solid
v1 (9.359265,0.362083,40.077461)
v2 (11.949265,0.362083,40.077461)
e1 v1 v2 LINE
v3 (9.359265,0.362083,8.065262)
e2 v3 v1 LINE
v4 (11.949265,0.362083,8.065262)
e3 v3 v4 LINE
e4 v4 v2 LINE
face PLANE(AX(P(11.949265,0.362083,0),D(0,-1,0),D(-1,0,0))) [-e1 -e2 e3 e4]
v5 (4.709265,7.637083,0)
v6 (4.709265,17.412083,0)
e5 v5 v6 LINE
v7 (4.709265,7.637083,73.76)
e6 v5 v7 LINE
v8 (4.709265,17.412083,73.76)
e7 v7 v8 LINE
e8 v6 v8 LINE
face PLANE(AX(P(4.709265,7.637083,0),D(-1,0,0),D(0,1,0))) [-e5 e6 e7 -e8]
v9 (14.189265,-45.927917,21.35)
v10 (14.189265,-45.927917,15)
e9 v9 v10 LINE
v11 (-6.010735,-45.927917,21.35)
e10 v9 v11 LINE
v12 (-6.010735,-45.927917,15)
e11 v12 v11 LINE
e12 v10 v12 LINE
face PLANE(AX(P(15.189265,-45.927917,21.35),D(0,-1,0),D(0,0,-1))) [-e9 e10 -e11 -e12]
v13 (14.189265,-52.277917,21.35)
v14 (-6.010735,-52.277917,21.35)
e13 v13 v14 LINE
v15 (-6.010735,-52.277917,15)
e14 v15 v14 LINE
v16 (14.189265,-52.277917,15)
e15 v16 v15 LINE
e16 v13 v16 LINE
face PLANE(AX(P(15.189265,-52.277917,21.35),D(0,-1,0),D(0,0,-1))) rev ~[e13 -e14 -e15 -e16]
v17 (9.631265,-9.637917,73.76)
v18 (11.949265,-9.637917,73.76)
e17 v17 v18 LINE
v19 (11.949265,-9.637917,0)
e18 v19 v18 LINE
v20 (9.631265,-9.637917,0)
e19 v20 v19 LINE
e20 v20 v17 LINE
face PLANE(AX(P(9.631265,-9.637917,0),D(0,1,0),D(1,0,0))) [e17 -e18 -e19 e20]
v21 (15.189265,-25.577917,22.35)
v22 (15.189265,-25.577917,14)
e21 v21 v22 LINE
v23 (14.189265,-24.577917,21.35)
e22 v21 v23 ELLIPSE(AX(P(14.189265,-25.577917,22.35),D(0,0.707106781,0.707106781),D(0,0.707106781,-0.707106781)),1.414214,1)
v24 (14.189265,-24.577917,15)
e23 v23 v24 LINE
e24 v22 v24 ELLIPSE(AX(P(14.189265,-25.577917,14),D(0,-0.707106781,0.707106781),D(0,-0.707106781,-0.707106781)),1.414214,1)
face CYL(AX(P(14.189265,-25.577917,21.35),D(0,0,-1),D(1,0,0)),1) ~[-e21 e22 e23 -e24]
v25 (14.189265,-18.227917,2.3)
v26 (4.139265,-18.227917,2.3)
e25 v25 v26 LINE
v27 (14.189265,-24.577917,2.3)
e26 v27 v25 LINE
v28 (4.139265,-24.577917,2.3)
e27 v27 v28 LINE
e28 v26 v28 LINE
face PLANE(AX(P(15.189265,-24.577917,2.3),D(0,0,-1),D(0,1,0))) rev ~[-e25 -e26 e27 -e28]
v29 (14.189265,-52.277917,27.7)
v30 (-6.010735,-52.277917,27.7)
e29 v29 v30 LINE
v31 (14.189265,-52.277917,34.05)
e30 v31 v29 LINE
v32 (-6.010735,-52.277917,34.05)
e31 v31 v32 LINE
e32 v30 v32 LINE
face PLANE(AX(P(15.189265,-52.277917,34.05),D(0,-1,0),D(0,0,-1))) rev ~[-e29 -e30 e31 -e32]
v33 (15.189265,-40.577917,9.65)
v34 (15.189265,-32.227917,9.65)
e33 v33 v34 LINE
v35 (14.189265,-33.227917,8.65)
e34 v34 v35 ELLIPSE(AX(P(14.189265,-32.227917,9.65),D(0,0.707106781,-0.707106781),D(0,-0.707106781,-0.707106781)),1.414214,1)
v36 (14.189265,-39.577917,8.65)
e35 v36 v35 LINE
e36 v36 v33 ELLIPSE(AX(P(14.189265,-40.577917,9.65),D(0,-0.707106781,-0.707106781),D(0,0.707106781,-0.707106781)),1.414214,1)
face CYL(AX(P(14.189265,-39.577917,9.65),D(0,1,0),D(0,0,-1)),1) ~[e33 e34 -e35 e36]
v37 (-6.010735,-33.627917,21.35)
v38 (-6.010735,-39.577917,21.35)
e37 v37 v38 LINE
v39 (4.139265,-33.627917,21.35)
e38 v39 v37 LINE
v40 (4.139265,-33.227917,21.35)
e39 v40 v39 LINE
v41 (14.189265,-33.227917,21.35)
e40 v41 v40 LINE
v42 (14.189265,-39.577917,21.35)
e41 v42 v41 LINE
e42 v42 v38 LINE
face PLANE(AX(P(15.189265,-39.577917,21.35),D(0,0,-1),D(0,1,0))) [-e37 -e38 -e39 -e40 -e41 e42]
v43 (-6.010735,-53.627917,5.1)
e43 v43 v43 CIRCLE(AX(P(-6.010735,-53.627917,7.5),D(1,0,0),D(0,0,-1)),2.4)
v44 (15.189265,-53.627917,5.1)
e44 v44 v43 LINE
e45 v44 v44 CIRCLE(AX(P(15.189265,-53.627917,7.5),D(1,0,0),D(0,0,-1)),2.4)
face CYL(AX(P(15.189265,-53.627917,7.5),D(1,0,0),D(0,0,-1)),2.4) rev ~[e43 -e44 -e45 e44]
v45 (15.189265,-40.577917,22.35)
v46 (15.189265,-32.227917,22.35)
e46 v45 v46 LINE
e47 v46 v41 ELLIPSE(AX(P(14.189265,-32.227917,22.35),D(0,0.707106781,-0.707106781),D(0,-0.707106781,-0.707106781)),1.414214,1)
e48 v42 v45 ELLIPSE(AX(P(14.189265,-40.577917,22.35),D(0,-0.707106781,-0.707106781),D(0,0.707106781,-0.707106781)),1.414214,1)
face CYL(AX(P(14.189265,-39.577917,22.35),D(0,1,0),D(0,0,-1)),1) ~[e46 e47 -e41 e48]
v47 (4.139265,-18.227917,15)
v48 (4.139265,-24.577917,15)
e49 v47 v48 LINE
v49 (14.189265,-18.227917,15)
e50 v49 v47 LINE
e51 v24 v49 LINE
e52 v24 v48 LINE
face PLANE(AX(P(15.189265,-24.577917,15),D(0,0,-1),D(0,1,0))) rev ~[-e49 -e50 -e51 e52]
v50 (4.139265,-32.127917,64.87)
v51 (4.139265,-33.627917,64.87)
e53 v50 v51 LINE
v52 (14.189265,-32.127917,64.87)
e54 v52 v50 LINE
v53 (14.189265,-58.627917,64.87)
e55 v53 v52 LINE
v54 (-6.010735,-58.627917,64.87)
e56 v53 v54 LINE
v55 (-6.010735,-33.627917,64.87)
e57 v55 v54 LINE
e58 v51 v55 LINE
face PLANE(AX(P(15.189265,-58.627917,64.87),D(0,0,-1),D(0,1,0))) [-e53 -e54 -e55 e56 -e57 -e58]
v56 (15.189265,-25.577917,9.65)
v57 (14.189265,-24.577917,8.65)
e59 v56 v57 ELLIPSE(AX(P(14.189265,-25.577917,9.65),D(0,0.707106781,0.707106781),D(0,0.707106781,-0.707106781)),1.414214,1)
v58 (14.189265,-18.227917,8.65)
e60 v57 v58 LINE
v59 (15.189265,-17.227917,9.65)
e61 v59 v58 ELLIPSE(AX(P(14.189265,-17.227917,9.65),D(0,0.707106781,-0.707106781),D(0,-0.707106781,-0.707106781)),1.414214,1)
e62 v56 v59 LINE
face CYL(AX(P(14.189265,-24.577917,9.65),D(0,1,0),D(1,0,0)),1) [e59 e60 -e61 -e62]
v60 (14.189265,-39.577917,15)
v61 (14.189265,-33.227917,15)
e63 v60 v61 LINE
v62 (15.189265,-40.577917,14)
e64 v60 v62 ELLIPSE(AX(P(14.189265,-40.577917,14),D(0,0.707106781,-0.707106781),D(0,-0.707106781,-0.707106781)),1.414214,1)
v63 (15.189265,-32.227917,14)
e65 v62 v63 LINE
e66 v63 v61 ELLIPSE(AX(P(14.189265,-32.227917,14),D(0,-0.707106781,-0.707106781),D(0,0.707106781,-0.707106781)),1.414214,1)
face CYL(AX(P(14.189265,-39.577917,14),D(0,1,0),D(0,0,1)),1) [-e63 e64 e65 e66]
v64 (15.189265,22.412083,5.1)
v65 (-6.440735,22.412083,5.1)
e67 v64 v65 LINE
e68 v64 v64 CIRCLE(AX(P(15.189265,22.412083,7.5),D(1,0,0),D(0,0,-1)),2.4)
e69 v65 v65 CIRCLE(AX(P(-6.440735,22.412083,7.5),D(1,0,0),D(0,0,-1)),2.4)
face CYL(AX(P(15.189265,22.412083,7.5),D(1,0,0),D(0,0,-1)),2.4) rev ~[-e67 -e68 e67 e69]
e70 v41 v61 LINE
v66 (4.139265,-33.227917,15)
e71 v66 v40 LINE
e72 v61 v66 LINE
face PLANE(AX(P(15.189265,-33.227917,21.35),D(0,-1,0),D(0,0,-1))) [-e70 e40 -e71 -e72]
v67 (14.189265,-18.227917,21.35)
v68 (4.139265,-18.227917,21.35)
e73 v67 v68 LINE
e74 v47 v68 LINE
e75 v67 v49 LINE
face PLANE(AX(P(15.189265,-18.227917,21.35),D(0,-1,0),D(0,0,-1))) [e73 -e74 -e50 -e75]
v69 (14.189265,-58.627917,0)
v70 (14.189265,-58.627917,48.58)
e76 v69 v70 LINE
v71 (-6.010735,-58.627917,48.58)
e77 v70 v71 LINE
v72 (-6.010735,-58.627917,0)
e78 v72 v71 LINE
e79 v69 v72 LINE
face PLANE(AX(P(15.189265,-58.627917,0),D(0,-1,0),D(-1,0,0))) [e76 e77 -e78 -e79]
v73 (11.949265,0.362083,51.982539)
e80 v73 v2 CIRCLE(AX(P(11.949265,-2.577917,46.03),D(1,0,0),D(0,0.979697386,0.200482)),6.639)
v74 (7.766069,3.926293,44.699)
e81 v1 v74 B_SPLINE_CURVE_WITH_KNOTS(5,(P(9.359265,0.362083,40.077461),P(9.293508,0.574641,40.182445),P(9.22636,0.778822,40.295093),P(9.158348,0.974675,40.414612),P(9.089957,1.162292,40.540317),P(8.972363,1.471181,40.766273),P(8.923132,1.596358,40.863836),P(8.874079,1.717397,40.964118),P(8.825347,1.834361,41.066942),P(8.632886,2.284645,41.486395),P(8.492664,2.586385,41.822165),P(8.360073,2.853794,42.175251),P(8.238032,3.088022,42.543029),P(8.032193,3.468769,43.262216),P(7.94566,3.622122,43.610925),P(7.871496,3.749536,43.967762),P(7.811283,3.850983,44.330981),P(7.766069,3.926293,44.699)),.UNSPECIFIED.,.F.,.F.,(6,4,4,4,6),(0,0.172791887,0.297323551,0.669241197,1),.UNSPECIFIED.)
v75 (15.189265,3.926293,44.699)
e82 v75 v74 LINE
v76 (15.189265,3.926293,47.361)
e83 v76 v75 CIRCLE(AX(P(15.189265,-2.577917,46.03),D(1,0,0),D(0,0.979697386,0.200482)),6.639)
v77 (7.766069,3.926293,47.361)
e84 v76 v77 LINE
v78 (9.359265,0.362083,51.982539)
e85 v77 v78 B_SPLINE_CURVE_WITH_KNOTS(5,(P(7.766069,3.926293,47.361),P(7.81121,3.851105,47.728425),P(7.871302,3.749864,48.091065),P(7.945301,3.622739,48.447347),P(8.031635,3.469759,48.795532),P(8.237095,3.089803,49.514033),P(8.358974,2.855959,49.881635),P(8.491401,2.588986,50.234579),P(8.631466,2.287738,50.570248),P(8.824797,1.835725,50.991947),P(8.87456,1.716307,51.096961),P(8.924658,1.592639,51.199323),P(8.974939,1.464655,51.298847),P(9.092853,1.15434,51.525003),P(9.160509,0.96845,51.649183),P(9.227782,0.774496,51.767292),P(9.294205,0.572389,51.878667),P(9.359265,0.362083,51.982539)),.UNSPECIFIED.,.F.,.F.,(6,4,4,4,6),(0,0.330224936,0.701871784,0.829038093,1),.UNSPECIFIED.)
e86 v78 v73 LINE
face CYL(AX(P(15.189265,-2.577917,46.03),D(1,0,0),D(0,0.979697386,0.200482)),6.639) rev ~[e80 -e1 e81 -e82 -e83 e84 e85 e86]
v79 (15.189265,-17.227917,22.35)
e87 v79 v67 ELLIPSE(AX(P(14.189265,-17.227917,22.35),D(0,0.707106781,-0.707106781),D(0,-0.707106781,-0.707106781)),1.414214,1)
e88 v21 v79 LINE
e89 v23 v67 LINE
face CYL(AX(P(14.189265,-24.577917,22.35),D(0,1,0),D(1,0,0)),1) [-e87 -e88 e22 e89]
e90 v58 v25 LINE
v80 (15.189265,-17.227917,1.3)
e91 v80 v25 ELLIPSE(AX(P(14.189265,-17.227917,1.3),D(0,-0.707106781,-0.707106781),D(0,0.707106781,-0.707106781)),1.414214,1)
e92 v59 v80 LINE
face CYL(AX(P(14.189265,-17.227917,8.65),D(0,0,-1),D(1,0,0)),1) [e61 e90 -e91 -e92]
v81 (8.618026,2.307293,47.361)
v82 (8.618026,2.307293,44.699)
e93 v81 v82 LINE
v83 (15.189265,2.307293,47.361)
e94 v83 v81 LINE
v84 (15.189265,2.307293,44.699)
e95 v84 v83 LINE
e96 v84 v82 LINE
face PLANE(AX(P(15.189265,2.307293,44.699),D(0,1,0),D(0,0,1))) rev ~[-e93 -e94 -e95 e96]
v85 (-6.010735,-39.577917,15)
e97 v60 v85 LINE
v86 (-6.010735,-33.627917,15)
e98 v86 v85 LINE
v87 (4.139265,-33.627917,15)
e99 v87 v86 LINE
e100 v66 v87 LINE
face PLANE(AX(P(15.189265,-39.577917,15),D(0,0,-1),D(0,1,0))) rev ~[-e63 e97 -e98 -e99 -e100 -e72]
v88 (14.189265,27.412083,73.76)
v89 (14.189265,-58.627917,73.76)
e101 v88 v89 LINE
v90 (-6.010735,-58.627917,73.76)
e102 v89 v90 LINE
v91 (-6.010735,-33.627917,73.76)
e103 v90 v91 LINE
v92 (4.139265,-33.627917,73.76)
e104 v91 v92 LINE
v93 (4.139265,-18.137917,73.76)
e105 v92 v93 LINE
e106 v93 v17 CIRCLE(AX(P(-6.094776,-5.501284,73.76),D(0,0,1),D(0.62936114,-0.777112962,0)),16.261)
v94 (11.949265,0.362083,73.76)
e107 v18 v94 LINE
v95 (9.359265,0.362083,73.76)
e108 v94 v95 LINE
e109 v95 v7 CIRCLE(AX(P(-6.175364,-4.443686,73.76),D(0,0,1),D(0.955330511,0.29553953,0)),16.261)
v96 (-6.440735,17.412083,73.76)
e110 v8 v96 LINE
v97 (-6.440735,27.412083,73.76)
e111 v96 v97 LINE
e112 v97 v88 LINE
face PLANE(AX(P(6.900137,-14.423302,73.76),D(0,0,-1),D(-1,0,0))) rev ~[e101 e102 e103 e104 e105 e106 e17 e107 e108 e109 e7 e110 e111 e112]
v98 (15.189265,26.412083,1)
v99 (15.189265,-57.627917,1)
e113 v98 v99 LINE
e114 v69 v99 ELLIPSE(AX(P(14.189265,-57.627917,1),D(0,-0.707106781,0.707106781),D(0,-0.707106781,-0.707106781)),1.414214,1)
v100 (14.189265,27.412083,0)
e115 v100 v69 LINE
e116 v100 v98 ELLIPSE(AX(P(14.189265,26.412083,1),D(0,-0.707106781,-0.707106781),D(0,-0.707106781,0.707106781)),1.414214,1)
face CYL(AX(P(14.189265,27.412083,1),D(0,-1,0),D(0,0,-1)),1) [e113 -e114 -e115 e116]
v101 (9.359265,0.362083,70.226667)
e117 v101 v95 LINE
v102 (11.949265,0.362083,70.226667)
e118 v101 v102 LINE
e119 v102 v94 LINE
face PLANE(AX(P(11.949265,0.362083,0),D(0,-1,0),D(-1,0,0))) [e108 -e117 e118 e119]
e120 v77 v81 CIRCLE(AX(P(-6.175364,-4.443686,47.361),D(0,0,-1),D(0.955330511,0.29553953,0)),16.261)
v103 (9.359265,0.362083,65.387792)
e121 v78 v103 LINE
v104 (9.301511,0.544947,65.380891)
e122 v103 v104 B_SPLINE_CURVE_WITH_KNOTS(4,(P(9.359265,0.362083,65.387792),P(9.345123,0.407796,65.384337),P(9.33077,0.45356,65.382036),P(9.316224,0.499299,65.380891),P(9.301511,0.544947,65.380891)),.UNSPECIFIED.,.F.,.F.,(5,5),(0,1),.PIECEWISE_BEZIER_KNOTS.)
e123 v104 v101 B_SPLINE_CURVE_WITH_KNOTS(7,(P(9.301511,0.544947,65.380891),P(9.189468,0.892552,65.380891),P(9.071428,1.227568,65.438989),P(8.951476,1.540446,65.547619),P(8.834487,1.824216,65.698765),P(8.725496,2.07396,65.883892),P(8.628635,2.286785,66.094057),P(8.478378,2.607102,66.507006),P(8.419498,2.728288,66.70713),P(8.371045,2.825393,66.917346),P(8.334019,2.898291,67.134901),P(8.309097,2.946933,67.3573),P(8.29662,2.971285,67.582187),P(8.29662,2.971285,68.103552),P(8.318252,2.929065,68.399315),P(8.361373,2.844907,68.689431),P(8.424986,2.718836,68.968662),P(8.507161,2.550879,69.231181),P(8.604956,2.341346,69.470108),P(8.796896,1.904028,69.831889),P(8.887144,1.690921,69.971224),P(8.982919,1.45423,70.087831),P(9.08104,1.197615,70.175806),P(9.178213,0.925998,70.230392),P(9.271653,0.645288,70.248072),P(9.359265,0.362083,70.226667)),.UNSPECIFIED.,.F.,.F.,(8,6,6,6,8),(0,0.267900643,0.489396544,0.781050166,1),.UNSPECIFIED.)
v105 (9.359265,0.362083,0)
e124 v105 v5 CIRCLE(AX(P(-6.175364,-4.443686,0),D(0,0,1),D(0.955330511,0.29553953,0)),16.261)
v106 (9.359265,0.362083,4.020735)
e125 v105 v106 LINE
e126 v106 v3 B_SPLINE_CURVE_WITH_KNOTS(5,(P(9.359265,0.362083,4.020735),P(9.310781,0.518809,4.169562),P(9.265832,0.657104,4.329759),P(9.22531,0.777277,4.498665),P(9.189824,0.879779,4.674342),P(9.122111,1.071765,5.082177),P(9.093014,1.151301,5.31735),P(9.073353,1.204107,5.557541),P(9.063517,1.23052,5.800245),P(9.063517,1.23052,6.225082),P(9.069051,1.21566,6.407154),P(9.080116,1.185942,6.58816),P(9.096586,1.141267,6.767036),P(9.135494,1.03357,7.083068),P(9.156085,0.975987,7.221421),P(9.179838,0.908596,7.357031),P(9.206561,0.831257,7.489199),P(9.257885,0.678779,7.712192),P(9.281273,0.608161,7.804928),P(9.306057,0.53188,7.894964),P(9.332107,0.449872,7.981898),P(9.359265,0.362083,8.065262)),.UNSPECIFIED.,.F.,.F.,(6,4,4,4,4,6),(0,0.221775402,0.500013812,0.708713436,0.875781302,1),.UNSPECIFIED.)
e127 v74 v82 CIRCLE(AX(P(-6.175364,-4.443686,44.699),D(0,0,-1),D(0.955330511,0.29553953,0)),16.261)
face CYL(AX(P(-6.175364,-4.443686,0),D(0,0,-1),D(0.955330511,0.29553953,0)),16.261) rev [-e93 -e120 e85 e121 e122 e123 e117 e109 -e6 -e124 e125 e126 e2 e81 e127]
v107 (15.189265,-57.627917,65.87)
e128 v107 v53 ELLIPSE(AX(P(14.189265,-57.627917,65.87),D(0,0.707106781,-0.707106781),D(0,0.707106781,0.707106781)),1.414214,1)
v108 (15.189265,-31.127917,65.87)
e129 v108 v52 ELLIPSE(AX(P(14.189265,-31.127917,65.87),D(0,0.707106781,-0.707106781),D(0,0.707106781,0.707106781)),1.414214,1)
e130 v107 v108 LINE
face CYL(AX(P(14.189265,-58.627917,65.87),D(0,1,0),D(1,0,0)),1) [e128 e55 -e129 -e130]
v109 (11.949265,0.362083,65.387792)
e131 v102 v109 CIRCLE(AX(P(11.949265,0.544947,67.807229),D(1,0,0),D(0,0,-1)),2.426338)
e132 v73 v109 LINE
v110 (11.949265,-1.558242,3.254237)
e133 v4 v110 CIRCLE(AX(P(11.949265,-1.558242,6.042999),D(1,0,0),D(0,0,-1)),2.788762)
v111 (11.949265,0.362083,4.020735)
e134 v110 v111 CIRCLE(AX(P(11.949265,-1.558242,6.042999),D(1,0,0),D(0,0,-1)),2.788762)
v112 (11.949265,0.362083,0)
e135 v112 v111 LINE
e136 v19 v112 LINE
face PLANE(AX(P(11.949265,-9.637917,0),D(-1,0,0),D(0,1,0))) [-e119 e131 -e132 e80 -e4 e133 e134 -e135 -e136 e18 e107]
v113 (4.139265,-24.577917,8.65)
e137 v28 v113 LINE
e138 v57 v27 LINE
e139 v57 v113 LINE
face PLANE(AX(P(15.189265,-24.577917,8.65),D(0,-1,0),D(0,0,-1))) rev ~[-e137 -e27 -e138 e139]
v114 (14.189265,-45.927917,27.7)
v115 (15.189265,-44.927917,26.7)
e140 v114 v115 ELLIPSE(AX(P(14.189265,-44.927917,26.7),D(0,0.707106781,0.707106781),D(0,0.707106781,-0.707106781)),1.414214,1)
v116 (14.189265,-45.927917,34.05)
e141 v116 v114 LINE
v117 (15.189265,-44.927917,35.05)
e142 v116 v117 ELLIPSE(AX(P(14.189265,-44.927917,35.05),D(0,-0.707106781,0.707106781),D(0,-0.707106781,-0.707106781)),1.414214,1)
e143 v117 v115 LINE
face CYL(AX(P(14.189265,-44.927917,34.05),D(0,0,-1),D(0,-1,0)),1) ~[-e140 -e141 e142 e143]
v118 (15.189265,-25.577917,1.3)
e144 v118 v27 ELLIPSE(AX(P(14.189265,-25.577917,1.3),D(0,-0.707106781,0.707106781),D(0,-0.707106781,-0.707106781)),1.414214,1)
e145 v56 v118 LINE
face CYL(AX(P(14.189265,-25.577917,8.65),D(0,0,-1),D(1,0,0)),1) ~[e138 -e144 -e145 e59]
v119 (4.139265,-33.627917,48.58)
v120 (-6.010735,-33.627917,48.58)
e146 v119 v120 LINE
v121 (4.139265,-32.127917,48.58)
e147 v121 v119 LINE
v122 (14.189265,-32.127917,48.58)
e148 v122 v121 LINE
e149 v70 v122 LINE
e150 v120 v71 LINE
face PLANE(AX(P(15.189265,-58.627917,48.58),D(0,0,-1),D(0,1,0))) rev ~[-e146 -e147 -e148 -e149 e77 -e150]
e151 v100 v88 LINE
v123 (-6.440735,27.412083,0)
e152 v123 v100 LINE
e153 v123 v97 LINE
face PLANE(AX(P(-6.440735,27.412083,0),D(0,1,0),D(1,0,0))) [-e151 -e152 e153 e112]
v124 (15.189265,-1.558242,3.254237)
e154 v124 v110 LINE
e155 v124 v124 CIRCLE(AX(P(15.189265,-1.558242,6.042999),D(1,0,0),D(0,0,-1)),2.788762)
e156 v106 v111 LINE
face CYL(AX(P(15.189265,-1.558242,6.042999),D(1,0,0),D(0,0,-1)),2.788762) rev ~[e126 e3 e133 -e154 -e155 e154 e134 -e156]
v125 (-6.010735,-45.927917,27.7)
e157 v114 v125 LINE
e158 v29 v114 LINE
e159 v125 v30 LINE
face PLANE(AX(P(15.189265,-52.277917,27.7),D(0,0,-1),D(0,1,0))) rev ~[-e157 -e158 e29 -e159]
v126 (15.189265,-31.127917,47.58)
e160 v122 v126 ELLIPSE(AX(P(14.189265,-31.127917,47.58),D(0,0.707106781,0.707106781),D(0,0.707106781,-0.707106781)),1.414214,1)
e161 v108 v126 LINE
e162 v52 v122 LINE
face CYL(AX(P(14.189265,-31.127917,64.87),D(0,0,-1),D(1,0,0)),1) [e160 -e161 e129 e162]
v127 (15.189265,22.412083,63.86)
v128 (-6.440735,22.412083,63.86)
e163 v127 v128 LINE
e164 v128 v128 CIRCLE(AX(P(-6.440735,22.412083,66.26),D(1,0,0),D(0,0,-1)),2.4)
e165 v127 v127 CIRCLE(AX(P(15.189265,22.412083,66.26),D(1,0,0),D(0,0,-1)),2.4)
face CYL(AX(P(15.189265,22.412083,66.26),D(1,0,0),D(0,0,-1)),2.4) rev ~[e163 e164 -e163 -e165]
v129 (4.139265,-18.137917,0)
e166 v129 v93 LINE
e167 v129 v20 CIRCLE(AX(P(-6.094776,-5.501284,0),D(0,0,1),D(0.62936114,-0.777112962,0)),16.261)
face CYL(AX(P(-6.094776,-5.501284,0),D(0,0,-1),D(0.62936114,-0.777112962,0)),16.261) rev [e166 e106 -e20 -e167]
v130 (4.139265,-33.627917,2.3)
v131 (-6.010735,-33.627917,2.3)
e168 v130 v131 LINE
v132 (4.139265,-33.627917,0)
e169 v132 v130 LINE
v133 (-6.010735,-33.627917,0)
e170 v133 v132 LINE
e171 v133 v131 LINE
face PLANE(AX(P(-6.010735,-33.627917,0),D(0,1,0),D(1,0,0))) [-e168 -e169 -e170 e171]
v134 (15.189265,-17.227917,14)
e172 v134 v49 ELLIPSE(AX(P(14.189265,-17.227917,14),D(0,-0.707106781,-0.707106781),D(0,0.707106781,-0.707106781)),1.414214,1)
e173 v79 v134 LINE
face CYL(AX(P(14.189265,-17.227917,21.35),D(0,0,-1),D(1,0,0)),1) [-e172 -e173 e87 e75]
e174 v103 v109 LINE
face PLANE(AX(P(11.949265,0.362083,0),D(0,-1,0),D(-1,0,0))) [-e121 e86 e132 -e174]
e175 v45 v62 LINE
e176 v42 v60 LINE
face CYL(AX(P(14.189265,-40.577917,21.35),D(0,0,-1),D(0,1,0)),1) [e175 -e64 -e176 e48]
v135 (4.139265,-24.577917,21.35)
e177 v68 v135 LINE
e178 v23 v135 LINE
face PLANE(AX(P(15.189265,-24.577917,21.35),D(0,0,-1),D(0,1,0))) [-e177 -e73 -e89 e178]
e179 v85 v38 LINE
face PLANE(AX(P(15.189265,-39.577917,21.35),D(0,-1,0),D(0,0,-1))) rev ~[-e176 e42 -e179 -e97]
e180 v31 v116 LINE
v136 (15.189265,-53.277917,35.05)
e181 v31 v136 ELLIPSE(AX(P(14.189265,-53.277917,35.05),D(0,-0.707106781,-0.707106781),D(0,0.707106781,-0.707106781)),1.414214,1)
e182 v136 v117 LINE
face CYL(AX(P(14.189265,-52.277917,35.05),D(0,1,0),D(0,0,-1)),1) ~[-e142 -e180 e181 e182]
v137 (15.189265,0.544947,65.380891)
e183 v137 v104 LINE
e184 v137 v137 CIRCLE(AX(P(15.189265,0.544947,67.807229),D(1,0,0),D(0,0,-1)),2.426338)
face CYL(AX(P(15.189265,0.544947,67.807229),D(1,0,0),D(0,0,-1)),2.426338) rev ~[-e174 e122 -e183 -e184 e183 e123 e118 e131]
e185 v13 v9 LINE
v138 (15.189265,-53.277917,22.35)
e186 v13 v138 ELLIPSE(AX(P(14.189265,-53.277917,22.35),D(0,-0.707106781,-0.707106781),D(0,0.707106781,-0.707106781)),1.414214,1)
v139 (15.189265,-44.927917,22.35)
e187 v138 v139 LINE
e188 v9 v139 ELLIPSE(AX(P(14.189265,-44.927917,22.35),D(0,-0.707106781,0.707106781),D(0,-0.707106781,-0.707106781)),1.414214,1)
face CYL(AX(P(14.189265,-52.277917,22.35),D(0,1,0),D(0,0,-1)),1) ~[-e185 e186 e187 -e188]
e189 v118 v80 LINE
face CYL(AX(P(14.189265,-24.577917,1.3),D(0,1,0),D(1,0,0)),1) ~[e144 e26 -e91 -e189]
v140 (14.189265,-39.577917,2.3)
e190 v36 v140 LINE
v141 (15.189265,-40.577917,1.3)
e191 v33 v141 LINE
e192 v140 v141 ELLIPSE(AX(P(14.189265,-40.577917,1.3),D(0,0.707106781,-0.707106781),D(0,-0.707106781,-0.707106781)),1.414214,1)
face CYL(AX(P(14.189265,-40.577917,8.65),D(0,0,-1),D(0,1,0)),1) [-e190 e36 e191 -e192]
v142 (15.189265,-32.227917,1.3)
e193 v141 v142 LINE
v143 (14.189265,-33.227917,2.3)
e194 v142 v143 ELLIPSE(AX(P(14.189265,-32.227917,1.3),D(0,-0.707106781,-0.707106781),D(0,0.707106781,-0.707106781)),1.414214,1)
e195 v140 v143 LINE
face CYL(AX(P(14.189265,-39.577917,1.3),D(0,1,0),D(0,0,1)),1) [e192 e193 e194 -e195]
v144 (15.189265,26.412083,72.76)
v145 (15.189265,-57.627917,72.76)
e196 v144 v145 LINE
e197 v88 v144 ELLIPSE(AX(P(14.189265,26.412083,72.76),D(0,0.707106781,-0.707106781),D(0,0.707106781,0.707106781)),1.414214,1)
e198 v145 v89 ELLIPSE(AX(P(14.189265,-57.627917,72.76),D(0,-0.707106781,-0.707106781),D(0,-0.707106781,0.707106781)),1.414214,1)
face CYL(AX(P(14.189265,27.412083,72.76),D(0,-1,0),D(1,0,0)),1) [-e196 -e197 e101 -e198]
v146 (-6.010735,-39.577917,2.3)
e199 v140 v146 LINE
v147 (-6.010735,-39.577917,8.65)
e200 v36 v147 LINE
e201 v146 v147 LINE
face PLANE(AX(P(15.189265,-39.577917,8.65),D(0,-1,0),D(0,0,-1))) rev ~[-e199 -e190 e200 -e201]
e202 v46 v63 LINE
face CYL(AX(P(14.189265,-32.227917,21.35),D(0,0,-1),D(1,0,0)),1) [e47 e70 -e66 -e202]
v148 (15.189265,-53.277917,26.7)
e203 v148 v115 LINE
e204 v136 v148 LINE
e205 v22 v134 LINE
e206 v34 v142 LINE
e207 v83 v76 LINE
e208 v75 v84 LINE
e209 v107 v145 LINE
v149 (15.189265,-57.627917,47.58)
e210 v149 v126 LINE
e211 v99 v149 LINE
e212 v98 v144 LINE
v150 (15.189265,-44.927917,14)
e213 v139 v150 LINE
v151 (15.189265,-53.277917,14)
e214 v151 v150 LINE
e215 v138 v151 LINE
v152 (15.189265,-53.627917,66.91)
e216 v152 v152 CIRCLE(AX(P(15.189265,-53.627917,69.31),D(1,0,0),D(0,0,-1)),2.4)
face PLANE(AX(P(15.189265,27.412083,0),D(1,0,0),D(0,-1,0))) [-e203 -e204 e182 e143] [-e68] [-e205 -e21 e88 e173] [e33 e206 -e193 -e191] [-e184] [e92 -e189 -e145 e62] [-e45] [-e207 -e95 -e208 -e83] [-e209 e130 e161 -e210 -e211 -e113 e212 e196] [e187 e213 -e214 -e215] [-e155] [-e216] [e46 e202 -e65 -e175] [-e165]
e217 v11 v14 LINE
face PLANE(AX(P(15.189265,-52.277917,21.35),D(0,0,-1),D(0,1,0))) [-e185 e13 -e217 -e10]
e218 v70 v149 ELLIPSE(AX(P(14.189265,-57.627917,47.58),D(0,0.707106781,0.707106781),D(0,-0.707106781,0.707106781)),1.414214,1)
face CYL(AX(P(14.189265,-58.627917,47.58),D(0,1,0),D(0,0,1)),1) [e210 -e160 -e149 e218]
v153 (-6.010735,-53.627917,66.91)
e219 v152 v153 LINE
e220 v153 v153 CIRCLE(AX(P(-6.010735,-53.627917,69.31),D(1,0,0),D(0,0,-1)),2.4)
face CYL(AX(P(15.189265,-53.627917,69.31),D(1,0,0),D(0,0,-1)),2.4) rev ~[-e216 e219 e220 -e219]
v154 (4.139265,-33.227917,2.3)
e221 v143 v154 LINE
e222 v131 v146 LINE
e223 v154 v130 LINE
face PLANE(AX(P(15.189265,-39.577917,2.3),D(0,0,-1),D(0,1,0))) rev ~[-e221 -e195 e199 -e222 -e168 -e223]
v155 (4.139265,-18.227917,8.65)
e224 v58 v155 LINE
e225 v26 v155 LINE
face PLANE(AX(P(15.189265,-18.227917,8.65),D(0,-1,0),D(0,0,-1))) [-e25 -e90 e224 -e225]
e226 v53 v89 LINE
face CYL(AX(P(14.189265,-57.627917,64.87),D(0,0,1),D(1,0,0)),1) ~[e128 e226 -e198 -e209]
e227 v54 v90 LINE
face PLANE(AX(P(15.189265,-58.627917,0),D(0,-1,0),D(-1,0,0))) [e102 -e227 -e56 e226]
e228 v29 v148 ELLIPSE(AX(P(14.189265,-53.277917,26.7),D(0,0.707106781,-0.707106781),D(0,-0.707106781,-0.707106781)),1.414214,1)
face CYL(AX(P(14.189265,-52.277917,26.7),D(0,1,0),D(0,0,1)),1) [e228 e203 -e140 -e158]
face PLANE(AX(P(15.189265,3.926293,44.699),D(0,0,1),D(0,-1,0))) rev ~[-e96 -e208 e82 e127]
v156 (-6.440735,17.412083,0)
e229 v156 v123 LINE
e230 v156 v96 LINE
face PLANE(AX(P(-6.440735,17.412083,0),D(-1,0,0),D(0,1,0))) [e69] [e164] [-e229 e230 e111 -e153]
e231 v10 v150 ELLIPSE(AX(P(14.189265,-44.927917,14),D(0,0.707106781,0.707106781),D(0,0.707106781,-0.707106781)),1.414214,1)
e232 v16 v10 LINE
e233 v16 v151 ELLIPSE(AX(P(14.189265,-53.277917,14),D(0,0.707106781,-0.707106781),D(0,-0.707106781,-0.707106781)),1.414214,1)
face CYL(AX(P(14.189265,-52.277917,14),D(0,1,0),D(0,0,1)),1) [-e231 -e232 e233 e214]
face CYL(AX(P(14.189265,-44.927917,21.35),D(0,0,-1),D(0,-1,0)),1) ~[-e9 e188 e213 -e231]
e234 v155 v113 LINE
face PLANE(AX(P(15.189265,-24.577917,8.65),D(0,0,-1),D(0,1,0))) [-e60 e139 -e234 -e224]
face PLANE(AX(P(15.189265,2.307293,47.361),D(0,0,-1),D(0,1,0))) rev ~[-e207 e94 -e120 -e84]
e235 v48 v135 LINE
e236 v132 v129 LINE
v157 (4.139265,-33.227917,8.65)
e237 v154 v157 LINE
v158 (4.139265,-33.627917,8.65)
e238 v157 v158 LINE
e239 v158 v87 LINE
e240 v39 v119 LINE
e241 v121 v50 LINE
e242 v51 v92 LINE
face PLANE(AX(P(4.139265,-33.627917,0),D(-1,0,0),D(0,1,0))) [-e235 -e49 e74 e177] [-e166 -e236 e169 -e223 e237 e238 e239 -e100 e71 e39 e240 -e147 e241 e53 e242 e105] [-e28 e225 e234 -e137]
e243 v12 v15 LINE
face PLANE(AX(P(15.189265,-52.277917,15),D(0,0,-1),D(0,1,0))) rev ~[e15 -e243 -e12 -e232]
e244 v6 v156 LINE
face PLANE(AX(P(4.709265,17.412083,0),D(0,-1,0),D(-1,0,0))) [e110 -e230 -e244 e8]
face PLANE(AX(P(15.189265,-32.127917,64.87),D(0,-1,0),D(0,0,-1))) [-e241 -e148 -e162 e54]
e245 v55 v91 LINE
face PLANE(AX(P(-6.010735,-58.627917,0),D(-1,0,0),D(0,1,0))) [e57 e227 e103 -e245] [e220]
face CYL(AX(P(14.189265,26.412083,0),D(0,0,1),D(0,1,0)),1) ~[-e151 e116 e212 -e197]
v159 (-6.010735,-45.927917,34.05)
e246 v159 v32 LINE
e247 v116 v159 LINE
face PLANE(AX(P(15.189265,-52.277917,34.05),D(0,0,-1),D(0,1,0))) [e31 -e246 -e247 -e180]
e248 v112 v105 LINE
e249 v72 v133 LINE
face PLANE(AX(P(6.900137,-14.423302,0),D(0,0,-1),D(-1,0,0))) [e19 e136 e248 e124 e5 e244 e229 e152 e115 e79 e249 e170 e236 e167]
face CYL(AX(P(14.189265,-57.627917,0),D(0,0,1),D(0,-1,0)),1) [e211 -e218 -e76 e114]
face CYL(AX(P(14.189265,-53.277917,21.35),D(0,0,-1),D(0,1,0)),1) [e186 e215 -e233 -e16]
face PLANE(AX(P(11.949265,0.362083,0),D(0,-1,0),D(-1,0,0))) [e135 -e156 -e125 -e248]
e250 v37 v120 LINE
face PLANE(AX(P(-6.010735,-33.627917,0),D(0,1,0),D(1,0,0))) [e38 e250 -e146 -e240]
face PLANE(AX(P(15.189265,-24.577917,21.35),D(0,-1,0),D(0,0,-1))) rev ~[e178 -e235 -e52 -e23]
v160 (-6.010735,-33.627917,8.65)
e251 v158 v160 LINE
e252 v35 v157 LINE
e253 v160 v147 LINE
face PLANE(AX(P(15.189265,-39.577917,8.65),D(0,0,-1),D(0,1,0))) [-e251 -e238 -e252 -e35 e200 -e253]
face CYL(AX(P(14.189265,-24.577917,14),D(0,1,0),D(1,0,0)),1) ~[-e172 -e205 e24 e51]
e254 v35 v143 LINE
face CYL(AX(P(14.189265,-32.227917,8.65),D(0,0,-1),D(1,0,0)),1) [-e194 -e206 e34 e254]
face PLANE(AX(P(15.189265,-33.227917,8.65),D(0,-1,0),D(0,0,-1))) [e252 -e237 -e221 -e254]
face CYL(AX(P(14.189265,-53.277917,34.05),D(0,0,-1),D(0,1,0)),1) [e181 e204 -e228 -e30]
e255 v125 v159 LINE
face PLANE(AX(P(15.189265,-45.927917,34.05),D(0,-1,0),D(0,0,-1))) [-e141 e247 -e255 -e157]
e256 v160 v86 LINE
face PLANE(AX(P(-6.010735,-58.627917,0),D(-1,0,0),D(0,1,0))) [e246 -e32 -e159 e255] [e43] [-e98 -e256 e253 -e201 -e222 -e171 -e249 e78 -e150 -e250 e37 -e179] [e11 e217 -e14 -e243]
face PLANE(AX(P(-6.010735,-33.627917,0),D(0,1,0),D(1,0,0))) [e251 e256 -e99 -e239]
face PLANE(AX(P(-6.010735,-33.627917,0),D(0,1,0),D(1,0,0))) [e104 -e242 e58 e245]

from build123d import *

# Parameters (mm, degrees)
PROFILEEXTRUDE_DEPTH = 73.76
HOSEWINDOW_W         = 16.29
HOSEWINDOW_H         = 26.5
HOSEWINDOWCUT_DEPTH  = 22.63
CAGESCREWS_R         = 2.4
CAGESCREWSCUT_DEPTH  = 22.63
AXLEHOLECUT_DEPTH    = 22.63
SETSCREWS_R          = 2.426338021
SETSCREWS_R_2        = 2.788762315
SETSCREWSCUT_DEPTH   = 22.63
SKETCH1_W            = 6.35
SKETCH1_H            = 6.35
CUT_EXTRUDE1_DEPTH   = 22.63
FILLET1_R            = 1


with BuildPart() as part:
    # Profile → ProfileExtrude (new body)
    with BuildSketch(Plane.XY):
        with BuildLine():
            Line((-6.01073477, -58.62791746), (-6.01073477, -33.62791746))
            Line((-6.01073477, -33.62791746), (4.13926523, -33.62791746))
            Line((4.13926523, -33.62791746), (4.13926523, -18.13791746))
            ThreePointArc((4.13926523, -18.13791746), (7.563334043, -14.326029686), (9.63126523, -9.63791746))
            Line((9.63126523, -9.63791746), (11.94926523, -9.63791746))
            Line((11.94926523, -9.63791746), (11.94926523, 0.36208254))
            Line((11.94926523, 0.36208254), (9.35926523, 0.36208254))
            ThreePointArc((9.35926523, 0.36208254), (7.525939238, 4.313848402), (4.70926523, 7.63708254))
            Line((4.70926523, 7.63708254), (4.70926523, 17.41208254))
            Line((4.70926523, 17.41208254), (-6.44073477, 17.41208254))
            Line((-6.44073477, 17.41208254), (-6.44073477, 27.41208254))
            Line((-6.44073477, 27.41208254), (15.18926523, 27.41208254))
            Line((15.18926523, 27.41208254), (15.18926523, -58.62791746))
            Line((15.18926523, -58.62791746), (-6.01073477, -58.62791746))
        make_face()
    extrude(amount=PROFILEEXTRUDE_DEPTH)

    # HoseWindow → HoseWindowCut (cut, through all)
    with BuildSketch(Plane(origin=(15.18926523, 0, 0), x_dir=(0, 0, -1), z_dir=(1, 0, 0))):
        with Locations((-56.725, -45.37791746)):
            Rectangle(HOSEWINDOW_W, HOSEWINDOW_H)
    extrude(amount=-HOSEWINDOWCUT_DEPTH, mode=Mode.SUBTRACT)

    # CageScrews → CageScrewsCut (cut, through all)
    with BuildSketch(Plane(origin=(15.18926523, 0, 0), x_dir=(0, 0, -1), z_dir=(1, 0, 0))):
        with Locations((-66.26, 22.41208254)):
            Circle(CAGESCREWS_R)
        with Locations((-7.5, 22.41208254)):
            Circle(CAGESCREWS_R)
        with Locations((-7.5, -53.62791746)):
            Circle(CAGESCREWS_R)
        with Locations((-69.31, -53.62791746)):
            Circle(CAGESCREWS_R)
    extrude(amount=-CAGESCREWSCUT_DEPTH, mode=Mode.SUBTRACT)

    # AxleHole → AxleHoleCut (cut, through all)
    with BuildSketch(Plane(origin=(15.18926523, 0, 0), x_dir=(0, 0, -1), z_dir=(1, 0, 0))):
        with BuildLine():
            Line((-44.699, 2.307293484), (-47.361, 2.307293484))
            Line((-47.361, 2.307293484), (-47.361, 3.926293484))
            ThreePointArc((-47.361, 3.926293484), (-46.03, -9.21691746), (-44.699, 3.926293484))
            Line((-44.699, 3.926293484), (-44.699, 2.307293484))
        make_face()
    extrude(amount=-AXLEHOLECUT_DEPTH, mode=Mode.SUBTRACT)

    # SetScrews → SetScrewsCut (cut, through all)
    with BuildSketch(Plane(origin=(15.18926523, 0, 0), x_dir=(0, 0, -1), z_dir=(1, 0, 0))):
        with Locations((-67.80722939, 0.544946624)):
            Circle(SETSCREWS_R)
        with Locations((-6.04299884, -1.55824191)):
            Circle(SETSCREWS_R_2)
    extrude(amount=-SETSCREWSCUT_DEPTH, mode=Mode.SUBTRACT)

    # Sketch1 → Cut-Extrude1 (cut, through all)
    with BuildSketch(Plane(origin=(15.18926523, 0, 0), x_dir=(0, 0, -1), z_dir=(1, 0, 0))):
        with Locations((-18.175, -49.10291746)):
            Rectangle(SKETCH1_W, SKETCH1_H)
        with Locations((-30.875, -49.10291746)):
            Rectangle(SKETCH1_W, SKETCH1_H)
        with Locations((-5.475, -36.40291746)):
            Rectangle(SKETCH1_W, SKETCH1_H)
        with Locations((-18.175, -36.40291746)):
            Rectangle(SKETCH1_W, SKETCH1_H)
        with Locations((-5.475, -21.40291746)):
            Rectangle(SKETCH1_W, SKETCH1_H)
        with Locations((-18.175, -21.40291746)):
            Rectangle(SKETCH1_W, SKETCH1_H)
    extrude(amount=-CUT_EXTRUDE1_DEPTH, mode=Mode.SUBTRACT)

    # Fillet1
    fillet1_edges = [part.edges().sort_by_distance(p)[0] for p in [
        (15.18926523, -45.92791746, 18.175),
        (15.18926523, -49.10291746, 21.35),
        (15.18926523, -52.27791746, 18.175),
        (15.18926523, -49.10291746, 15),
        (15.18926523, -45.92791746, 30.875),
        (15.18926523, -49.10291746, 34.05),
        (15.18926523, -52.27791746, 30.875),
        (15.18926523, -49.10291746, 27.7),
        (15.18926523, -33.22791746, 5.475),
        (15.18926523, -36.40291746, 8.65),
        (15.18926523, -39.57791746, 5.475),
        (15.18926523, -36.40291746, 2.3),
        (15.18926523, -15.60791746, 0),
        (15.18926523, -33.22791746, 18.175),
        (15.18926523, -36.40291746, 21.35),
        (15.18926523, -39.57791746, 18.175),
        (15.18926523, -36.40291746, 15),
        (15.18926523, -18.22791746, 5.475),
        (15.18926523, -21.40291746, 8.65),
        (15.18926523, -24.57791746, 5.475),
        (15.18926523, -21.40291746, 2.3),
        (15.18926523, -18.22791746, 18.175),
        (15.18926523, -21.40291746, 21.35),
        (15.18926523, -24.57791746, 18.175),
        (15.18926523, -21.40291746, 15),
        (15.18926523, -58.62791746, 69.315),
        (15.18926523, 27.41208254, 36.88),
        (15.18926523, -58.62791746, 24.29),
        (15.18926523, -15.60791746, 73.76),
        (15.18926523, -45.37791746, 64.87),
        (15.18926523, -45.37791746, 48.58),
        (15.18926523, -32.12791746, 56.725),
    ]]
    fillet(fillet1_edges, radius=FILLET1_R)


solid = part.part
